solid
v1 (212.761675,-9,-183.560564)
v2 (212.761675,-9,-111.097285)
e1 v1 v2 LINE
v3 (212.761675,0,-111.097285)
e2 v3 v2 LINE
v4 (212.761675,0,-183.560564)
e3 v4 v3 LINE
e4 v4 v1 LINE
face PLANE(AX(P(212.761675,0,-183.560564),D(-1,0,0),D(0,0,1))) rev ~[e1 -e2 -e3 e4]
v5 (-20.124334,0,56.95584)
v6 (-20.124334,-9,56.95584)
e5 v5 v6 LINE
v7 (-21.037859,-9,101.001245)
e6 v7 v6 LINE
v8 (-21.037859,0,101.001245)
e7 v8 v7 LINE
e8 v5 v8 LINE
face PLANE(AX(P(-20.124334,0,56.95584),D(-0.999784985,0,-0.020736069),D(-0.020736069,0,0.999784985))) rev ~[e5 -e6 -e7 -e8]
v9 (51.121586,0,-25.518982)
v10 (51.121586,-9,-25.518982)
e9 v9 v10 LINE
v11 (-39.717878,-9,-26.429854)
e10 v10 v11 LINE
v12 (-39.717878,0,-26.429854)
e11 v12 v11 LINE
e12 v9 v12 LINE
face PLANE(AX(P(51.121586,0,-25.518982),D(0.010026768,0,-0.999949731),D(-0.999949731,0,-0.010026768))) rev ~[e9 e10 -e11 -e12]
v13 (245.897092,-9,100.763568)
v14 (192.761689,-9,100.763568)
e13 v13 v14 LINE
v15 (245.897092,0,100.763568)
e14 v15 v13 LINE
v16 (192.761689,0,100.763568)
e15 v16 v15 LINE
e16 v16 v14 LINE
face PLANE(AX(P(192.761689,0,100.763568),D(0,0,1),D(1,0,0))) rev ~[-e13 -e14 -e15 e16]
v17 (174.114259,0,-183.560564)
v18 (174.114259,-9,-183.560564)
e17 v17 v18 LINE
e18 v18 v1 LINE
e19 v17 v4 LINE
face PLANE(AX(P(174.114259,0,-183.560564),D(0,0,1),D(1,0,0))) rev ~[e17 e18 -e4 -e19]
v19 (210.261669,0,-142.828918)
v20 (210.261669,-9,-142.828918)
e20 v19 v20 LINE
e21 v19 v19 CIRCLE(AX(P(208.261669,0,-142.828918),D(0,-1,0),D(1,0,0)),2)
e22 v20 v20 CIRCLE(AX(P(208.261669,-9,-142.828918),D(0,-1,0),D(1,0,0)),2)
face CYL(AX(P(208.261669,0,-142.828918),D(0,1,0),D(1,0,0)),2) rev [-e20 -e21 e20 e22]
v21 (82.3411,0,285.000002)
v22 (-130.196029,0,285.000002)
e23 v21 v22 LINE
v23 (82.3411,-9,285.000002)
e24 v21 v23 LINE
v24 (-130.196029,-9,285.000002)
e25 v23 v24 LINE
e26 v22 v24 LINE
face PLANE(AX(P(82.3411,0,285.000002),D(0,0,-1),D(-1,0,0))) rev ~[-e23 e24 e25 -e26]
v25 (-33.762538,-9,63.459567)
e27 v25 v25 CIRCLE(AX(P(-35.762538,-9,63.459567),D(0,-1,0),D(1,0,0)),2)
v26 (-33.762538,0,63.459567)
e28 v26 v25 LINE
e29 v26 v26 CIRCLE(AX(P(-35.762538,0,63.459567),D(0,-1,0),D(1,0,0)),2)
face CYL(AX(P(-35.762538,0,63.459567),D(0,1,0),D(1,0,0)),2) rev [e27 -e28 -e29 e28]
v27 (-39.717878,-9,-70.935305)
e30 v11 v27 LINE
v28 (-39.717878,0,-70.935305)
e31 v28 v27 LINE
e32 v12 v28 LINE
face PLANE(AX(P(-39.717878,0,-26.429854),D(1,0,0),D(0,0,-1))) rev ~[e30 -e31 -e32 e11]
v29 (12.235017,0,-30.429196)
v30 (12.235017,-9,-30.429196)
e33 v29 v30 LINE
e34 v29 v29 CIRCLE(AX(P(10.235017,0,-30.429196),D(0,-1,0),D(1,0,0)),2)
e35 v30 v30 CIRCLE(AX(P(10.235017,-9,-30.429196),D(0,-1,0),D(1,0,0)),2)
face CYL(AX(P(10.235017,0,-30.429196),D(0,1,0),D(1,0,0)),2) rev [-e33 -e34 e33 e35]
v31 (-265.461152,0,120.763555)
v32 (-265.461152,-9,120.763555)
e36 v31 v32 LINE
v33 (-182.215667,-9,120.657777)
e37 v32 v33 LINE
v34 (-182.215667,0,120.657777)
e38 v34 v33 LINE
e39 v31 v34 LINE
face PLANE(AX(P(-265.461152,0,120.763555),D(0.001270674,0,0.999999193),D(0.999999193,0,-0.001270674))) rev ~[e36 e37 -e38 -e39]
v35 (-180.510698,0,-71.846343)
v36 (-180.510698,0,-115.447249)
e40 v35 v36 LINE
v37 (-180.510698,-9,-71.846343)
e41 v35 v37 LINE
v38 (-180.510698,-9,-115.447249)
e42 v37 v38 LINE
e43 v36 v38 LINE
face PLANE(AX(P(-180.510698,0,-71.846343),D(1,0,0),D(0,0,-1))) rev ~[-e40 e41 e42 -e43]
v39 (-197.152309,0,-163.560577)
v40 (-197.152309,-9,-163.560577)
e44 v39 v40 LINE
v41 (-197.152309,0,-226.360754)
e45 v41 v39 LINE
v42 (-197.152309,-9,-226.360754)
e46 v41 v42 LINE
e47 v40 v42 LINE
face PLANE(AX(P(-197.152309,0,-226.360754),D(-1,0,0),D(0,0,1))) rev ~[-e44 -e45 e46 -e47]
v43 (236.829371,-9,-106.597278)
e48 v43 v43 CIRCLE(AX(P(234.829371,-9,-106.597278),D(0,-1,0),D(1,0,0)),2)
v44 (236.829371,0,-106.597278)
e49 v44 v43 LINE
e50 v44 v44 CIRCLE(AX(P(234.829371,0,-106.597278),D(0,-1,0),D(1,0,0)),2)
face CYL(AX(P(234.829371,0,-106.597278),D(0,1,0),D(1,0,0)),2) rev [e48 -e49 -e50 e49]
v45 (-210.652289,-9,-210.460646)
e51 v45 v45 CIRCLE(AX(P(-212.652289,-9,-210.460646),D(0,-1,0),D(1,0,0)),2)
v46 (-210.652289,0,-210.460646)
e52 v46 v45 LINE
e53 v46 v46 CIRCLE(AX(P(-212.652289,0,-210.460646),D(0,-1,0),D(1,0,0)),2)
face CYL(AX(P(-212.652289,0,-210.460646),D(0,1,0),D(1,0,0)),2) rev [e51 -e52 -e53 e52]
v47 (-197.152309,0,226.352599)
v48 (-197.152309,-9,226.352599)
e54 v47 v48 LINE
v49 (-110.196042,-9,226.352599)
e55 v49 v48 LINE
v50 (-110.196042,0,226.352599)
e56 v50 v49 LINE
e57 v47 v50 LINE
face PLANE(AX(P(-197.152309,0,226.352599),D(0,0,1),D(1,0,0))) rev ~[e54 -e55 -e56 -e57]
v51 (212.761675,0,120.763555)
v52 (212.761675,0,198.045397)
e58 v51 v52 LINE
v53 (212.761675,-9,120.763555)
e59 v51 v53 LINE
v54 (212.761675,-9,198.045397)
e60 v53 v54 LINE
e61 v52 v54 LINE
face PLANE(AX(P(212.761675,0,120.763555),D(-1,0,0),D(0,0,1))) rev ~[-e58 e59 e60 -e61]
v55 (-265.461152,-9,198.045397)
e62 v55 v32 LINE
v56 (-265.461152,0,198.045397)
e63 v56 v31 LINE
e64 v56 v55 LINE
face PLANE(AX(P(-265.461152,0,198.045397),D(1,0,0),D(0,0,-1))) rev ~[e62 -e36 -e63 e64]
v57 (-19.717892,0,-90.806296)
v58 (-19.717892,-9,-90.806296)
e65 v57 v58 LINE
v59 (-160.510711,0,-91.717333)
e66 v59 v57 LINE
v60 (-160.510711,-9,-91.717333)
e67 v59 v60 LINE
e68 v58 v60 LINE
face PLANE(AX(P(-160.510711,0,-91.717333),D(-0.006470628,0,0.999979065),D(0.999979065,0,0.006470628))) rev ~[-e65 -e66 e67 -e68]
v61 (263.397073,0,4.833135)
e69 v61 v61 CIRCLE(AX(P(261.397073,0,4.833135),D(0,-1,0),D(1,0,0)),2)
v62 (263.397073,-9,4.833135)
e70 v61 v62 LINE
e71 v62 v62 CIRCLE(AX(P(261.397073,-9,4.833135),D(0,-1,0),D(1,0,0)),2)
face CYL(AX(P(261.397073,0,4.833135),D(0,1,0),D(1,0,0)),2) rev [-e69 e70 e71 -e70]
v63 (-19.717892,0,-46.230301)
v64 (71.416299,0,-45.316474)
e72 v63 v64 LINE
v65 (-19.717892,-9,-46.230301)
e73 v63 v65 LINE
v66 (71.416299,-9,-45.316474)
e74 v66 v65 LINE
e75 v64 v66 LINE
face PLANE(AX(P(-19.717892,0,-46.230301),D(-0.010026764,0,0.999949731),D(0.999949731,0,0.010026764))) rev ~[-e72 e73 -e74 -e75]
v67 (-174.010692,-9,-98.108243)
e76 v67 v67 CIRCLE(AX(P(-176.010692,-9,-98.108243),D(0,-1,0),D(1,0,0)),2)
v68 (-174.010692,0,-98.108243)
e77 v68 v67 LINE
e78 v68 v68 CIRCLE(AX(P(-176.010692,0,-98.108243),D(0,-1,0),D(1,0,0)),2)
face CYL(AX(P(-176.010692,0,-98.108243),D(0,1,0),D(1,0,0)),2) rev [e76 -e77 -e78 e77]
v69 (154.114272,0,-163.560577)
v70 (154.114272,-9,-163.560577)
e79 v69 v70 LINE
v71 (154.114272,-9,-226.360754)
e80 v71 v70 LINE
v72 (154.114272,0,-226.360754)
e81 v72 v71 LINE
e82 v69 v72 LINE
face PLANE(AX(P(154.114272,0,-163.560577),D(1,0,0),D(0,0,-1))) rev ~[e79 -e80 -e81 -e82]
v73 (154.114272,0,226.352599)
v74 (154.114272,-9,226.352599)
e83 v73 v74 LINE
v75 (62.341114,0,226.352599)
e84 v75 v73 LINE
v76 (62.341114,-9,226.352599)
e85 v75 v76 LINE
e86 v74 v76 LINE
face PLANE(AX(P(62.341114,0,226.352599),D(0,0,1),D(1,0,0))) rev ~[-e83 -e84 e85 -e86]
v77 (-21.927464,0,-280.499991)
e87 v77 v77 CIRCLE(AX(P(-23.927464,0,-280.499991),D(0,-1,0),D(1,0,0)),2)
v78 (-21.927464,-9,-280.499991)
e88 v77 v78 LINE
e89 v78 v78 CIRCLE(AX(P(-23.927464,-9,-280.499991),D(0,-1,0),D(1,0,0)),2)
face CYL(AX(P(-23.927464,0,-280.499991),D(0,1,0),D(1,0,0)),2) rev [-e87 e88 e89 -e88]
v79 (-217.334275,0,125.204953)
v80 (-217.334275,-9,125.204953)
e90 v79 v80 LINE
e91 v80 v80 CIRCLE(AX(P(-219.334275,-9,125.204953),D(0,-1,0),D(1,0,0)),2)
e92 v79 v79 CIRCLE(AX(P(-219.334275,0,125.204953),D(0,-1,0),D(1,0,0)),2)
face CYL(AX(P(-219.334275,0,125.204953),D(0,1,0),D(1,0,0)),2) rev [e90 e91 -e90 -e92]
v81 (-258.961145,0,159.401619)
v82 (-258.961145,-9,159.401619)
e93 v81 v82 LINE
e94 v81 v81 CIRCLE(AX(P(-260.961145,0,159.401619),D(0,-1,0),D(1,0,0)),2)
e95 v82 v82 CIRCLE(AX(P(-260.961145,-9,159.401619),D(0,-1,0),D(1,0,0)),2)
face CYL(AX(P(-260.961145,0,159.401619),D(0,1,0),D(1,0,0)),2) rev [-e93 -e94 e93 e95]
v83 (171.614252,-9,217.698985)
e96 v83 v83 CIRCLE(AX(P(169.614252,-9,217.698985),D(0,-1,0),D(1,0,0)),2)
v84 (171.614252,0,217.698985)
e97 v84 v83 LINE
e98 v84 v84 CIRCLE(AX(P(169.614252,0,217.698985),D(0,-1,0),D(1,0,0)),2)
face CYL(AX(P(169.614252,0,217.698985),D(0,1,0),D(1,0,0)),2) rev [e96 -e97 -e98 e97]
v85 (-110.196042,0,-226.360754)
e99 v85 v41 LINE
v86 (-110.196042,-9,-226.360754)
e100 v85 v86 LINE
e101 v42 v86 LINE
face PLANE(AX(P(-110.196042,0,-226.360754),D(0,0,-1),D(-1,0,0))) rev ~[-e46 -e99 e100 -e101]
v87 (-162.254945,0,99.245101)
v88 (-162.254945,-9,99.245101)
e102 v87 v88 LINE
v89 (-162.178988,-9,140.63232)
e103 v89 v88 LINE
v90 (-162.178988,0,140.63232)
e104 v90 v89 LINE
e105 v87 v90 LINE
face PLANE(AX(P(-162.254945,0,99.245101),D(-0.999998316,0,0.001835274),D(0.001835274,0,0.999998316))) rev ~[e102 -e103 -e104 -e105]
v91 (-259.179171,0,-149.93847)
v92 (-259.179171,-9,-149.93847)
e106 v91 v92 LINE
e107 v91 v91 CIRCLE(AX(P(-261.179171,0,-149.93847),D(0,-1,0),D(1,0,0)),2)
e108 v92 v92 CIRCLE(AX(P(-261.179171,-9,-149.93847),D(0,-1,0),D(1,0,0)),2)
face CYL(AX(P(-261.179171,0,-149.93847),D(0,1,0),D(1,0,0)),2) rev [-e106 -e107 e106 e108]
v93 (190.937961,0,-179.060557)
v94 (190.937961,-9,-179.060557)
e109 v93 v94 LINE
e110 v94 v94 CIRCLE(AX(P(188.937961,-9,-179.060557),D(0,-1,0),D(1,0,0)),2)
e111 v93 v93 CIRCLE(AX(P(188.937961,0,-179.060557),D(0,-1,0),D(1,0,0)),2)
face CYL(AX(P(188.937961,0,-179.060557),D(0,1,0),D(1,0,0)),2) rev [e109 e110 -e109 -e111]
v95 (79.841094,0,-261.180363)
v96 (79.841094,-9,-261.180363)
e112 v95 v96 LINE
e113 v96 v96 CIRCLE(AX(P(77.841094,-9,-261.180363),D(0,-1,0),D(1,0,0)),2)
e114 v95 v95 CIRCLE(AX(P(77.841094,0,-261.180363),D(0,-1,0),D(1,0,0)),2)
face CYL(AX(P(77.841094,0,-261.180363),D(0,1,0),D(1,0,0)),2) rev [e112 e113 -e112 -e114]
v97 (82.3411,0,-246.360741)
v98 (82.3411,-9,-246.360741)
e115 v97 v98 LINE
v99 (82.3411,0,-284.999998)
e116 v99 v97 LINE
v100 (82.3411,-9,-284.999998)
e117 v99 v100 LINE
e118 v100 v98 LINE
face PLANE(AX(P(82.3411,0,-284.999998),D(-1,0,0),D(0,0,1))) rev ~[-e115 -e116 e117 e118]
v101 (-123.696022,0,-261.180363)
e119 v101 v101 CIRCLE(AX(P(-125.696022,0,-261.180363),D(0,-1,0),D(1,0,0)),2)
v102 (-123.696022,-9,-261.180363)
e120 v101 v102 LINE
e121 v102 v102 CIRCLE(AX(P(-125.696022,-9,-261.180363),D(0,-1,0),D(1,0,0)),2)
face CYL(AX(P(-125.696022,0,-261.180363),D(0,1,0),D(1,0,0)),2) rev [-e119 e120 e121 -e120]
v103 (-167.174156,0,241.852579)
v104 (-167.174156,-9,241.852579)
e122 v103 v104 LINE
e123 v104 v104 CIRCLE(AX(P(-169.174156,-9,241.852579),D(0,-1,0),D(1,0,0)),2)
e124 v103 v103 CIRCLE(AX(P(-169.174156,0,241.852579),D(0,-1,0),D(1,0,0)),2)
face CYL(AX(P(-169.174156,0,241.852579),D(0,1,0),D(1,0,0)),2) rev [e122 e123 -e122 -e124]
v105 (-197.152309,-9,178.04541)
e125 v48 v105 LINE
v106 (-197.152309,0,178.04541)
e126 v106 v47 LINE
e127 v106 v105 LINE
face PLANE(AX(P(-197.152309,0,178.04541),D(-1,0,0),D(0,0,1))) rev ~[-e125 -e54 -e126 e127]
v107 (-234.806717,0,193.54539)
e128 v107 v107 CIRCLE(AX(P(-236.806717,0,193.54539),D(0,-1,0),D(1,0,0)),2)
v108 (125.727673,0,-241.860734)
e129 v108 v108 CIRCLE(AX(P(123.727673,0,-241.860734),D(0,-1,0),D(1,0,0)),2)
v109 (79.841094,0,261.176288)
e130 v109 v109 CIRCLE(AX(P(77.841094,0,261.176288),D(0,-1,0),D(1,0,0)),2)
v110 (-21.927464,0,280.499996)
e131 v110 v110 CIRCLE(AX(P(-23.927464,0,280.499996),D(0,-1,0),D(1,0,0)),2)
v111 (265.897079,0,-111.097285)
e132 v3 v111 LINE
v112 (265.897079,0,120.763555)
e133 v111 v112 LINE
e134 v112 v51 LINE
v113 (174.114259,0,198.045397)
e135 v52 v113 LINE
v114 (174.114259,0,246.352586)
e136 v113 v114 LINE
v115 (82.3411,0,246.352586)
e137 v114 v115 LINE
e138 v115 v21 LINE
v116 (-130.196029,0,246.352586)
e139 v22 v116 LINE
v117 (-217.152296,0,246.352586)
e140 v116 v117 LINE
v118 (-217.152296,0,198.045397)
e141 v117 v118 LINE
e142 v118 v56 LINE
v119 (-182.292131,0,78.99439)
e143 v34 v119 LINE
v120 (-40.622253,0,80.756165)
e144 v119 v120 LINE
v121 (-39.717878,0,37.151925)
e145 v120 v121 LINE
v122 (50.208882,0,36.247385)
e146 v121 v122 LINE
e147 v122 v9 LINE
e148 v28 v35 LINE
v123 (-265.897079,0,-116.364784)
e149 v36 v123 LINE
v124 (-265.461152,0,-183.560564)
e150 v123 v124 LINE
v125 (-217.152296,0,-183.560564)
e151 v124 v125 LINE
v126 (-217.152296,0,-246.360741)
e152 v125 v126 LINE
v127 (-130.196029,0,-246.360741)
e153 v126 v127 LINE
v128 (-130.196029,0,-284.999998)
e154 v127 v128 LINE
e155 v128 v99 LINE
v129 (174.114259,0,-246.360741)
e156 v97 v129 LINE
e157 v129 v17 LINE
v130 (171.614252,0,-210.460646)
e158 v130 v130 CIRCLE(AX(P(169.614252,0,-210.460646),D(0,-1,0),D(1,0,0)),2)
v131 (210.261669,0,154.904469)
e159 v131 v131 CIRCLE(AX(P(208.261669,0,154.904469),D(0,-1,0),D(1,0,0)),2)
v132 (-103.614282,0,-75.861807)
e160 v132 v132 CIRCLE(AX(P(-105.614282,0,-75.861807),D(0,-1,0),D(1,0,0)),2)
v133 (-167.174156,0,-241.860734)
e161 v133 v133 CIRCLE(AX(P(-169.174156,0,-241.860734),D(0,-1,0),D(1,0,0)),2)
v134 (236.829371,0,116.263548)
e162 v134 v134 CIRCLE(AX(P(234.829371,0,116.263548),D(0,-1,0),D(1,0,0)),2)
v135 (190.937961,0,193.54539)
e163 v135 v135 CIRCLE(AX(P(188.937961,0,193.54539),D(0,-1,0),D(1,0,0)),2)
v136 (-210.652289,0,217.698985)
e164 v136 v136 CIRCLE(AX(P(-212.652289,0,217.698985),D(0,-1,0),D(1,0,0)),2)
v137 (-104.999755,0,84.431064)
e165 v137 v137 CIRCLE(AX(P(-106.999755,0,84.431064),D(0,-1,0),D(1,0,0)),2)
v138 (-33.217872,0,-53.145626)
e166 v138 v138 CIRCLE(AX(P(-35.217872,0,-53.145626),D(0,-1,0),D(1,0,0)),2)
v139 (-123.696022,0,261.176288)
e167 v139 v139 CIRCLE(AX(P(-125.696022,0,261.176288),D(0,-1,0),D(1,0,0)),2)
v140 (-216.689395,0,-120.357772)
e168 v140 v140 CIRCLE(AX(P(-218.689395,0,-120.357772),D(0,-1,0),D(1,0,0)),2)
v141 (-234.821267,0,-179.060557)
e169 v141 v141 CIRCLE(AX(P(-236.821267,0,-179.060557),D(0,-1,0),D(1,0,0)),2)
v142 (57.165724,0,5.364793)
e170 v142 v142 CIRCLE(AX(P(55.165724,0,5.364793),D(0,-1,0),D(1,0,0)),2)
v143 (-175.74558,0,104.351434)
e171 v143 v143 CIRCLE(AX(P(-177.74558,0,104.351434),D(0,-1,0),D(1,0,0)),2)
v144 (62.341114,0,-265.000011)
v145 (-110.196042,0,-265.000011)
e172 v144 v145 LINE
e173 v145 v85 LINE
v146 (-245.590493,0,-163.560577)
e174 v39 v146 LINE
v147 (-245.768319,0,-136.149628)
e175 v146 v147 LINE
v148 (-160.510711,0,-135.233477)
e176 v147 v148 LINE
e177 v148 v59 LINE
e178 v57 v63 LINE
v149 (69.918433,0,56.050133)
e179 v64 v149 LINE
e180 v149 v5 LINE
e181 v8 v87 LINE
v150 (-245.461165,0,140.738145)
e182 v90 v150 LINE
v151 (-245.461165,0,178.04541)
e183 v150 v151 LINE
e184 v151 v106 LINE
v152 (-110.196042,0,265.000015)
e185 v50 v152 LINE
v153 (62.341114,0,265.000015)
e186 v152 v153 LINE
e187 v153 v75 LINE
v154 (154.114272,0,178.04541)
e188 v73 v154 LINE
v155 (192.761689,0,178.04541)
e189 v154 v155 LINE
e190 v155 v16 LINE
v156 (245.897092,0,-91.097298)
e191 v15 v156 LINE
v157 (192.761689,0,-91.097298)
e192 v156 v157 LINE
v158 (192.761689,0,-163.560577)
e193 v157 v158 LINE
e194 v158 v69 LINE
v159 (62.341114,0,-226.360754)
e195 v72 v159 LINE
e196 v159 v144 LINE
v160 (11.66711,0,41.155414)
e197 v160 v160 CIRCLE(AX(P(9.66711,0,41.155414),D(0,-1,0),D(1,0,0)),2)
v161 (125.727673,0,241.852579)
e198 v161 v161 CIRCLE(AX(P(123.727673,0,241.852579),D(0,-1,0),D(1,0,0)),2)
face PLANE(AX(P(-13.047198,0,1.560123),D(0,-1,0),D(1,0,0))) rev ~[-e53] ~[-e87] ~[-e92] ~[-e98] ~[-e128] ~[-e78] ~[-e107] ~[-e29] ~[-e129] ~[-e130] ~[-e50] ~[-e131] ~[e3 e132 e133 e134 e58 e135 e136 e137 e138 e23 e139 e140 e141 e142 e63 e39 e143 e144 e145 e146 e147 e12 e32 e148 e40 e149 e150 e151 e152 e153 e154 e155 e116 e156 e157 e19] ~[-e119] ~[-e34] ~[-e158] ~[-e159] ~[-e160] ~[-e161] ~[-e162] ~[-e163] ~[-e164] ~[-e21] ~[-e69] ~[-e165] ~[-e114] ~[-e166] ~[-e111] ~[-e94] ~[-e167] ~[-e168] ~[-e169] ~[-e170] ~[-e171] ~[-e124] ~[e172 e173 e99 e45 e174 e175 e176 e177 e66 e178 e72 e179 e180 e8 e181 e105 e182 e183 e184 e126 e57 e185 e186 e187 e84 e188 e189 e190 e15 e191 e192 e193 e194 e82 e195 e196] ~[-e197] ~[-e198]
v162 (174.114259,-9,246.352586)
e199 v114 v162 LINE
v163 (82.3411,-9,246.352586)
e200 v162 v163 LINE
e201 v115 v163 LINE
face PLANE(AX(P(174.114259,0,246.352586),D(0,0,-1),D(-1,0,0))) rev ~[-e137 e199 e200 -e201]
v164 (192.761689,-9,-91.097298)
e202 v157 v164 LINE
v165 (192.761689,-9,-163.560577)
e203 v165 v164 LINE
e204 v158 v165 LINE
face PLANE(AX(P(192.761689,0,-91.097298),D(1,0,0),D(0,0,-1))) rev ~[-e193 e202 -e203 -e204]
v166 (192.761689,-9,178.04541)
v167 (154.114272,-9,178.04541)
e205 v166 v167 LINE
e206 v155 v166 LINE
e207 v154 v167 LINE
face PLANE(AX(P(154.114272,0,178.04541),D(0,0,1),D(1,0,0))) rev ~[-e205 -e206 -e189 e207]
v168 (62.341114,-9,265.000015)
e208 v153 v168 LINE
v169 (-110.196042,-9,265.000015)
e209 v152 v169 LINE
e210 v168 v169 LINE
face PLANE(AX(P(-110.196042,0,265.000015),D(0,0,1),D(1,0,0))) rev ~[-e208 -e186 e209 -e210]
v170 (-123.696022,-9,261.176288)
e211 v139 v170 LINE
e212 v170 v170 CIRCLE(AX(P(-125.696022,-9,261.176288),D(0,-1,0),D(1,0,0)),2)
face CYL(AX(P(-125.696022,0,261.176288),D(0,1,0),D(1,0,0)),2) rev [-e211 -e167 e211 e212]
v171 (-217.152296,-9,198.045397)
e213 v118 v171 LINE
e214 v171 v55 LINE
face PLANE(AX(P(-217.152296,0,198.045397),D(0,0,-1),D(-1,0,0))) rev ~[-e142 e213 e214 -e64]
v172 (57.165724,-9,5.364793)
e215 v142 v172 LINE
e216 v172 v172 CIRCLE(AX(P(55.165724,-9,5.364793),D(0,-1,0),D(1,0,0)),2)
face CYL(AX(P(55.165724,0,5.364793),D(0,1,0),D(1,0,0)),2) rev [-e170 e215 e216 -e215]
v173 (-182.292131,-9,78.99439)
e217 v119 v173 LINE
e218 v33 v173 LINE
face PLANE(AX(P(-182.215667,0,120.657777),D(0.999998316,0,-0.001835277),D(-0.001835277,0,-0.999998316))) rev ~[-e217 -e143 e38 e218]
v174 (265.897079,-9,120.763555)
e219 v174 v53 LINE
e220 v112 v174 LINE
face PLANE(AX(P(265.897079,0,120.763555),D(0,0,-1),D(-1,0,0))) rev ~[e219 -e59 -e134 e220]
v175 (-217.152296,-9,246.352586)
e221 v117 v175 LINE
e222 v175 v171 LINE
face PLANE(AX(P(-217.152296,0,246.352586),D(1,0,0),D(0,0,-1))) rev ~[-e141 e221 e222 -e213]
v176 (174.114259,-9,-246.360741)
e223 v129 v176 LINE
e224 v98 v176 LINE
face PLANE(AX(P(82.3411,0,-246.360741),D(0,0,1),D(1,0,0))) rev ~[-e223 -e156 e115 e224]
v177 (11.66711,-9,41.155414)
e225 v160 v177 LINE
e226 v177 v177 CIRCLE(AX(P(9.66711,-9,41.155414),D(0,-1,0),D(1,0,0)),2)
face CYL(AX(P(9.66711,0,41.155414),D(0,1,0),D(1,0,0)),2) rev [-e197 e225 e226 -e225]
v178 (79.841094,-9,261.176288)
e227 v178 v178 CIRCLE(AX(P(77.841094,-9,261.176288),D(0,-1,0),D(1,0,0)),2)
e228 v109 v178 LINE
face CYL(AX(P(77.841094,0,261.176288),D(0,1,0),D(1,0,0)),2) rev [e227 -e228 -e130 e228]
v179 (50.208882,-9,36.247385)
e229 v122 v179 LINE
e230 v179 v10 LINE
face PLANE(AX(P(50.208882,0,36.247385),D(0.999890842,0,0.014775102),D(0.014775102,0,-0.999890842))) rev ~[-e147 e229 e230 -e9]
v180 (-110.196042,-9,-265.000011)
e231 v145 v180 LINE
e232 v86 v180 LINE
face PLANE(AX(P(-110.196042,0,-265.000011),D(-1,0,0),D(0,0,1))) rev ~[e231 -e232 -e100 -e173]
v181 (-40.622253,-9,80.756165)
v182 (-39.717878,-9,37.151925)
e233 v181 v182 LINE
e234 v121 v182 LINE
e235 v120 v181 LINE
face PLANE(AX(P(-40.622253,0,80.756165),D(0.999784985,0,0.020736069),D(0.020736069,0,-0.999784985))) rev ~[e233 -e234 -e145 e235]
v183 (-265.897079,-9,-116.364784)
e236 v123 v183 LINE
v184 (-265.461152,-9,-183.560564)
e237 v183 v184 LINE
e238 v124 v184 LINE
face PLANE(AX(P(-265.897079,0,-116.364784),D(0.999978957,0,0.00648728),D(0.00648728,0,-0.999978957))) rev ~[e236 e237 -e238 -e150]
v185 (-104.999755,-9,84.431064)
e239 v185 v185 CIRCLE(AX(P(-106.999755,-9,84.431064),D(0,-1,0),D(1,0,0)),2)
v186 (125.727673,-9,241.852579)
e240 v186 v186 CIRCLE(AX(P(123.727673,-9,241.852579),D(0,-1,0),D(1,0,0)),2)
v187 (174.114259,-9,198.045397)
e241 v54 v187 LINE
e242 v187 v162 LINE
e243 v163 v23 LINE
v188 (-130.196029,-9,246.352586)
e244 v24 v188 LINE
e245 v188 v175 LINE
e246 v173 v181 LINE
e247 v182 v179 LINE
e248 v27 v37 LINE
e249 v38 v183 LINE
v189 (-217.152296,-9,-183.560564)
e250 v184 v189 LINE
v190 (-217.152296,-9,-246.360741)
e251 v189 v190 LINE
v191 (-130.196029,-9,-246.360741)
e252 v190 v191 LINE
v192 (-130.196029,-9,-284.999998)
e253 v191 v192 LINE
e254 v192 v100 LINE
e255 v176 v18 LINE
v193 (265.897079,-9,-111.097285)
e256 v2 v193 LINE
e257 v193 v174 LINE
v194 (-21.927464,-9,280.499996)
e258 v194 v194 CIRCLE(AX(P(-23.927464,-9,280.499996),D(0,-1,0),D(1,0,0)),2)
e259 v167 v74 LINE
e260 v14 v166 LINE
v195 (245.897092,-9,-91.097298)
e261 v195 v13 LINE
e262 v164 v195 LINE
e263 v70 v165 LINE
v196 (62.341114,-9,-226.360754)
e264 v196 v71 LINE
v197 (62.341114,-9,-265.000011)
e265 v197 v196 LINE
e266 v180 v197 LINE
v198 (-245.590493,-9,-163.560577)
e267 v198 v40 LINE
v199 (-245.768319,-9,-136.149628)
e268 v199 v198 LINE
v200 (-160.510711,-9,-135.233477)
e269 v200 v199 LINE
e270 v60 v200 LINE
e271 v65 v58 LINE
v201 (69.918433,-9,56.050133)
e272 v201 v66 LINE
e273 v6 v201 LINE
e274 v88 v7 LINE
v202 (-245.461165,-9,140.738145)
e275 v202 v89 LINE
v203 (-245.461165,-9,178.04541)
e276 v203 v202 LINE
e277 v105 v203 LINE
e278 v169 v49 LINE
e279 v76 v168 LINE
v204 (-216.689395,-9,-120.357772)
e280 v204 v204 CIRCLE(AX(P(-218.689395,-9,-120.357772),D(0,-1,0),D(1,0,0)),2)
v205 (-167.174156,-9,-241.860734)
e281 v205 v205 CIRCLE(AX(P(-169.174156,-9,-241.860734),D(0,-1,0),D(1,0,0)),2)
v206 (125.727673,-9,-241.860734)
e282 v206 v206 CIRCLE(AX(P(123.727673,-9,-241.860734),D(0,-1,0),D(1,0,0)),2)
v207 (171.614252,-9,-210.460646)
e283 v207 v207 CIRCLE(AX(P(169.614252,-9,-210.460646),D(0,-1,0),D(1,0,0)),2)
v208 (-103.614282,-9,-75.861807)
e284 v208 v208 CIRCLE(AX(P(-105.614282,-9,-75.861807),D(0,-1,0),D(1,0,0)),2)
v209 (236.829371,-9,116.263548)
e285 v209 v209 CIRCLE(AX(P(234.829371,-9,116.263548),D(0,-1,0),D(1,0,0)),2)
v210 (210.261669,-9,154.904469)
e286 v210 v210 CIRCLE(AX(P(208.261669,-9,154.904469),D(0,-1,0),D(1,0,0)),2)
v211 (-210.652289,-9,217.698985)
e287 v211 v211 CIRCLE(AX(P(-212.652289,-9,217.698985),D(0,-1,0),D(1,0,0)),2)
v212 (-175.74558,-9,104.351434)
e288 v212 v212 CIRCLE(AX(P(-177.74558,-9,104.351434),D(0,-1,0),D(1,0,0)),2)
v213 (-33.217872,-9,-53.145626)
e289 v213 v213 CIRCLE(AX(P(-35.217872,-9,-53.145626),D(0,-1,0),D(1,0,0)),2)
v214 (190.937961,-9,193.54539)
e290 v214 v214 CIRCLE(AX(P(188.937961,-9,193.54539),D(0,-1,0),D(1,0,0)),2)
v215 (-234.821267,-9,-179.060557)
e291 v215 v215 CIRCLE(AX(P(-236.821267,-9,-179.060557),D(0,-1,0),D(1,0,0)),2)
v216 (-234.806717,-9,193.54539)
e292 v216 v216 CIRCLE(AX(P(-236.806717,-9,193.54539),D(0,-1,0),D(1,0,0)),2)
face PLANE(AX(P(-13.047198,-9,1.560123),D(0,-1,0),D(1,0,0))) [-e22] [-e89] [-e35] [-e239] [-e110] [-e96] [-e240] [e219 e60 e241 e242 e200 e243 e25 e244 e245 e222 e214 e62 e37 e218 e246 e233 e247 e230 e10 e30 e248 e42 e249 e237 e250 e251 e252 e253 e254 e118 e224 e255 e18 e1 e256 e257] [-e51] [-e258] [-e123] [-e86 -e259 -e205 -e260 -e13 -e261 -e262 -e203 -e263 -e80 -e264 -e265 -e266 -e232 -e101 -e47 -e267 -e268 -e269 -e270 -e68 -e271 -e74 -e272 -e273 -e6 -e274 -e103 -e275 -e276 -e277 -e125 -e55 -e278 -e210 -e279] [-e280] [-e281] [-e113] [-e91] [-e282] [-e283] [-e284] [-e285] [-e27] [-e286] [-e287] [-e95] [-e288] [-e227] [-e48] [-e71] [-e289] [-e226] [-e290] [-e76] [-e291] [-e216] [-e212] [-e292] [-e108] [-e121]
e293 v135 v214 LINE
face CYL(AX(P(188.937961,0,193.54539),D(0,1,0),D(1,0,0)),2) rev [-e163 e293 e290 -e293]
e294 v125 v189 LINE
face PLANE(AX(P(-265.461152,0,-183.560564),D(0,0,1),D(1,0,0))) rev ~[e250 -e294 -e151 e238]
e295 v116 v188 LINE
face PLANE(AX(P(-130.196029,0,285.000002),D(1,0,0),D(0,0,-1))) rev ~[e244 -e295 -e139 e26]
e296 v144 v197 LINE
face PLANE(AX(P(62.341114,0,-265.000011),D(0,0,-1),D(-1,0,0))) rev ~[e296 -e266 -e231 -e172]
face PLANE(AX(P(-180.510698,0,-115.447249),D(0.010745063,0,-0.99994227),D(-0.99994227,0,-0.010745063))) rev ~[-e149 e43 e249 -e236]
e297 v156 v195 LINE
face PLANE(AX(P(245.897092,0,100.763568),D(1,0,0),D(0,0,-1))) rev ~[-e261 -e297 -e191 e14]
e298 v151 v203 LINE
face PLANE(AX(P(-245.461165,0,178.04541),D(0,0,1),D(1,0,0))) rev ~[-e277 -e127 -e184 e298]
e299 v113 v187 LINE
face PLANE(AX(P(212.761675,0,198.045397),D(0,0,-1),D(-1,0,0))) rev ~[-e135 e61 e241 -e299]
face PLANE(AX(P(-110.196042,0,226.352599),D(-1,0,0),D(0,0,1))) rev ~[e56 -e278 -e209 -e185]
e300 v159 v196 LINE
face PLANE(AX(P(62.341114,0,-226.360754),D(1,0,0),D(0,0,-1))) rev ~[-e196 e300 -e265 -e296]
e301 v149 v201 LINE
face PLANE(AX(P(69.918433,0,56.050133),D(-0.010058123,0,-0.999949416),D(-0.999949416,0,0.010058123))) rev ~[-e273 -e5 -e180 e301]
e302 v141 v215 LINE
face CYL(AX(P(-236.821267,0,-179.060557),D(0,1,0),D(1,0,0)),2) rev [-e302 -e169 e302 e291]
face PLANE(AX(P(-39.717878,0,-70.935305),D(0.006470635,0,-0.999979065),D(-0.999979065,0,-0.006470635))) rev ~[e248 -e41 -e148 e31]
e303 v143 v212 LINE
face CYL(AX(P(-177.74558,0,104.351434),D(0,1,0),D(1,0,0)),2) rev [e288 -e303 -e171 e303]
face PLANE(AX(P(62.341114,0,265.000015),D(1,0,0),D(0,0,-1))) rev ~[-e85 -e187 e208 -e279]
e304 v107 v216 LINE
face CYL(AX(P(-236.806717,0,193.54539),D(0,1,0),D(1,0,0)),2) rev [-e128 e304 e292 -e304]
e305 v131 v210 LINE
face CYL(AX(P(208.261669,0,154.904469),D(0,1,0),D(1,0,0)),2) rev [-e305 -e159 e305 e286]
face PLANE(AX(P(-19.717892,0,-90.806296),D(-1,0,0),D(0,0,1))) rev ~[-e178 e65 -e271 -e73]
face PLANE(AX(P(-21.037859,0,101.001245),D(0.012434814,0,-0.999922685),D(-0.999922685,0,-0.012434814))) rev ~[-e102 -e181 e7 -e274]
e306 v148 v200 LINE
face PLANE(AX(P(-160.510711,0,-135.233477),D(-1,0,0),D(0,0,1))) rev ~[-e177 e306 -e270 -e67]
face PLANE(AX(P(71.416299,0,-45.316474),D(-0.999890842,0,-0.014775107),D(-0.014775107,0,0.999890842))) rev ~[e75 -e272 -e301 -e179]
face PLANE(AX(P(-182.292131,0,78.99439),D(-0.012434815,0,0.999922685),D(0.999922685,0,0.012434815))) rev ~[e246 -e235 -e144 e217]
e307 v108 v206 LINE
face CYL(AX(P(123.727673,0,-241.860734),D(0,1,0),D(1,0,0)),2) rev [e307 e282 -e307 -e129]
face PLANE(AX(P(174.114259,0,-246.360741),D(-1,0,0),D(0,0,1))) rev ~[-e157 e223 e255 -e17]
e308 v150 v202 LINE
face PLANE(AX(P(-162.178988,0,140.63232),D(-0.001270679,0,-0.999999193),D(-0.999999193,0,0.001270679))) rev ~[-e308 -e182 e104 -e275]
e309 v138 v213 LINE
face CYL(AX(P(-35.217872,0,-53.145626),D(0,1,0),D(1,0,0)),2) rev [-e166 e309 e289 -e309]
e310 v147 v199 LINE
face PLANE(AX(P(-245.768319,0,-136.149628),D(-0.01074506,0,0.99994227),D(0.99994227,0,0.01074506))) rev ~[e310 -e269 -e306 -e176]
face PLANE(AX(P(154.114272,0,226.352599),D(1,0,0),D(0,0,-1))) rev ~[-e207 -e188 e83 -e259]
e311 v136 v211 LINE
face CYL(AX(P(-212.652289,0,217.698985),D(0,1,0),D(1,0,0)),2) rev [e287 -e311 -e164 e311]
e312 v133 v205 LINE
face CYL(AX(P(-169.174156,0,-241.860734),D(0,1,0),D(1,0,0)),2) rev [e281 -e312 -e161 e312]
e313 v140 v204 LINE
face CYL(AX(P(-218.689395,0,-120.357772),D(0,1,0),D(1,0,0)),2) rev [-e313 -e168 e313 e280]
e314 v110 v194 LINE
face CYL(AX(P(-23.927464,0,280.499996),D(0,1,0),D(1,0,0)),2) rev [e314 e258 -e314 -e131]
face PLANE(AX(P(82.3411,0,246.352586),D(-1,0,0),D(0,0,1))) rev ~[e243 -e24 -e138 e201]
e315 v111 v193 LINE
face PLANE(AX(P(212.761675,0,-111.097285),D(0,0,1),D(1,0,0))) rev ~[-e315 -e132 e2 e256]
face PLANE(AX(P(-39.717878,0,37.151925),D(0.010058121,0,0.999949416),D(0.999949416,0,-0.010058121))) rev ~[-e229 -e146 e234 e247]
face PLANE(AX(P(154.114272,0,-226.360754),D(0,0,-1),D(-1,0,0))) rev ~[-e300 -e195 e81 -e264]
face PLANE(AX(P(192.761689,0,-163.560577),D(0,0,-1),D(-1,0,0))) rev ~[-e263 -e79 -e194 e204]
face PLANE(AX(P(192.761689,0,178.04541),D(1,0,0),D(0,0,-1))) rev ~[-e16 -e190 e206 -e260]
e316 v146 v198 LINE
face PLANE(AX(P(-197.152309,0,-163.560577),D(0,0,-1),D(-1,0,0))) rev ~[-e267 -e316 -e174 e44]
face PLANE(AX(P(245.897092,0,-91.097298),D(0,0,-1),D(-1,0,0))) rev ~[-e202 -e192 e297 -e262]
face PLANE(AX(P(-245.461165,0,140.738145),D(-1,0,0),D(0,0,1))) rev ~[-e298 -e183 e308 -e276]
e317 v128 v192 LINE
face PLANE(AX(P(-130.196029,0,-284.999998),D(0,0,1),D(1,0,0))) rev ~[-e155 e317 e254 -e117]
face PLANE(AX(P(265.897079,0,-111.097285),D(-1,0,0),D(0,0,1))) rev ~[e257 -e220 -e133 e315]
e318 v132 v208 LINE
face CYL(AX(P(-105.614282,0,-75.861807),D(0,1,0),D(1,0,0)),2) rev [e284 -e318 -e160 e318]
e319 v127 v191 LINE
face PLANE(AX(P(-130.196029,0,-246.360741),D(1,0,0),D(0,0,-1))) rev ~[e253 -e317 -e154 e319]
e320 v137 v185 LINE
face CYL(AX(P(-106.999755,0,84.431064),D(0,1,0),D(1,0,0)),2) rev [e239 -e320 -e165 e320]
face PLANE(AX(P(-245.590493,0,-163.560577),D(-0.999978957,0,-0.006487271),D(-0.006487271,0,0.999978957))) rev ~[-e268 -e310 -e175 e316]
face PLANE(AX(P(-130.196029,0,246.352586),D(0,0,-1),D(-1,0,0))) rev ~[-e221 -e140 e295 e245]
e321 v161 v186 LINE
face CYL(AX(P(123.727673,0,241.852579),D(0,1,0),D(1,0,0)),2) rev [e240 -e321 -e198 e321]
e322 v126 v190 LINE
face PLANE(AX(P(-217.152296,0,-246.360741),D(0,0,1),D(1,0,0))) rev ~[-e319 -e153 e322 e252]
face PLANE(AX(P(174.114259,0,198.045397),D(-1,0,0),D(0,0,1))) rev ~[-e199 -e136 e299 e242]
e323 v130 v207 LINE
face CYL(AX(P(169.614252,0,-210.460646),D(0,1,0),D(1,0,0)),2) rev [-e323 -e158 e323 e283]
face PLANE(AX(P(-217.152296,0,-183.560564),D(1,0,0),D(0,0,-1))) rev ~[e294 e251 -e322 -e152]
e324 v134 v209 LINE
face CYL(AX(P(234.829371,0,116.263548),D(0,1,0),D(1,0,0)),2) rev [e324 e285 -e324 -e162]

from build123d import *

# Parameters (mm, degrees)
F0_R     = 2
F1_DEPTH = 9
F3_DEPTH = 9.001


with BuildPart() as f1:
    # F0 (on Front) → F1 (new body)
    with BuildSketch(Plane.XZ):
        Polygon((265.897079, -111.097285), (265.897079, 120.763555), (212.761675, 120.763555), (212.761675, 198.045397), (174.114259, 198.045397), (174.114259, 246.352586), (82.3411, 246.352586), (82.3411, 285.000002), (-130.196029, 285.000002), (-130.196029, 246.352586), (-217.152296, 246.352586), (-217.152296, 198.045397), (-265.461152, 198.045397), (-265.461152, 120.763555), (-182.215667, 120.657777), (-182.292131, 78.99439), (-40.622253, 80.756165), (-39.717878, 37.151925), (50.208882, 36.247385), (51.121586, -25.518982), (-39.717878, -26.429854), (-39.717878, -70.935305), (-180.510698, -71.846343), (-180.510698, -115.447249), (-265.897079, -116.364784), (-265.461152, -183.560564), (-217.152296, -183.560564), (-217.152296, -246.360741), (-130.196029, -246.360741), (-130.196029, -284.999998), (82.3411, -284.999998), (82.3411, -246.360741), (174.114259, -246.360741), (174.114259, -183.560564), (212.761675, -183.560564), (212.761675, -111.097285), align=None)
        with Locations((-169.174156, -241.860734)):
            Circle(F0_R, mode=Mode.SUBTRACT)
        with Locations((-236.821267, -179.060557)):
            Circle(F0_R, mode=Mode.SUBTRACT)
        with Locations((-212.652289, -210.460646)):
            Circle(F0_R, mode=Mode.SUBTRACT)
        with Locations((-261.179171, -149.93847)):
            Circle(F0_R, mode=Mode.SUBTRACT)
        with Locations((-125.696022, -261.180363)):
            Circle(F0_R, mode=Mode.SUBTRACT)
        with Locations((-23.927464, -280.499991)):
            Circle(F0_R, mode=Mode.SUBTRACT)
        with Locations((-218.689395, -120.357772)):
            Circle(F0_R, mode=Mode.SUBTRACT)
        with Locations((-176.010692, -98.108243)):
            Circle(F0_R, mode=Mode.SUBTRACT)
        with Locations((-105.614282, -75.861807)):
            Circle(F0_R, mode=Mode.SUBTRACT)
        with Locations((-35.217872, -53.145626)):
            Circle(F0_R, mode=Mode.SUBTRACT)
        with Locations((77.841094, -261.180363)):
            Circle(F0_R, mode=Mode.SUBTRACT)
        with Locations((123.727673, -241.860734)):
            Circle(F0_R, mode=Mode.SUBTRACT)
        with Locations((169.614252, -210.460646)):
            Circle(F0_R, mode=Mode.SUBTRACT)
        with Locations((188.937961, -179.060557)):
            Circle(F0_R, mode=Mode.SUBTRACT)
        with Locations((208.261669, -142.828918)):
            Circle(F0_R, mode=Mode.SUBTRACT)
        with Locations((10.235017, -30.429196)):
            Circle(F0_R, mode=Mode.SUBTRACT)
        with Locations((234.829371, -106.597278)):
            Circle(F0_R, mode=Mode.SUBTRACT)
        with Locations((-219.334275, 125.204953)):
            Circle(F0_R, mode=Mode.SUBTRACT)
        with Locations((-177.74558, 104.351434)):
            Circle(F0_R, mode=Mode.SUBTRACT)
        with Locations((-35.762538, 63.459567)):
            Circle(F0_R, mode=Mode.SUBTRACT)
        with Locations((-106.999755, 84.431064)):
            Circle(F0_R, mode=Mode.SUBTRACT)
        with Locations((-260.961145, 159.401619)):
            Circle(F0_R, mode=Mode.SUBTRACT)
        with Locations((-236.806717, 193.54539)):
            Circle(F0_R, mode=Mode.SUBTRACT)
        with Locations((-212.652289, 217.698985)):
            Circle(F0_R, mode=Mode.SUBTRACT)
        with Locations((-169.174156, 241.852579)):
            Circle(F0_R, mode=Mode.SUBTRACT)
        with Locations((-125.696022, 261.176288)):
            Circle(F0_R, mode=Mode.SUBTRACT)
        with Locations((-23.927464, 280.499996)):
            Circle(F0_R, mode=Mode.SUBTRACT)
        with Locations((55.165724, 5.364793)):
            Circle(F0_R, mode=Mode.SUBTRACT)
        with Locations((9.66711, 41.155414)):
            Circle(F0_R, mode=Mode.SUBTRACT)
        with Locations((261.397073, 4.833135)):
            Circle(F0_R, mode=Mode.SUBTRACT)
        with Locations((234.829371, 116.263548)):
            Circle(F0_R, mode=Mode.SUBTRACT)
        with Locations((123.727673, 241.852579)):
            Circle(F0_R, mode=Mode.SUBTRACT)
        with Locations((77.841094, 261.176288)):
            Circle(F0_R, mode=Mode.SUBTRACT)
        with Locations((188.937961, 193.54539)):
            Circle(F0_R, mode=Mode.SUBTRACT)
        with Locations((208.261669, 154.904469)):
            Circle(F0_R, mode=Mode.SUBTRACT)
        with Locations((169.614252, 217.698985)):
            Circle(F0_R, mode=Mode.SUBTRACT)
    extrude(amount=F1_DEPTH)

    # F2 (on face) → F3 (cut, through all)
    with BuildSketch(Plane(origin=(0, 0, 0), x_dir=(-1, 0, 0), z_dir=(0, 1, 0))):
        Polygon((-62.341114, 265.000015), (-62.341114, 226.352599), (-154.114272, 226.352599), (-154.114272, 178.04541), (-192.761689, 178.04541), (-192.761689, 100.763568), (-245.897092, 100.763568), (-245.897092, -91.097298), (-192.761689, -91.097298), (-192.761689, -163.560577), (-154.114272, -163.560577), (-154.114272, -226.360754), (-62.341114, -226.360754), (-62.341114, -265.000011), (110.196042, -265.000011), (110.196042, -226.360754), (197.152309, -226.360754), (197.152309, -163.560577), (245.590493, -163.560577), (245.768319, -136.149628), (160.510711, -135.233477), (160.510711, -91.717333), (19.717892, -90.806296), (19.717892, -46.230301), (-71.416299, -45.316474), (-69.918433, 56.050133), (20.124334, 56.95584), (21.037859, 101.001245), (162.254945, 99.245101), (162.178988, 140.63232), (245.461165, 140.738145), (245.461165, 178.04541), (197.152309, 178.04541), (197.152309, 226.352599), (110.196042, 226.352599), (110.196042, 265.000015), align=None)
    extrude(amount=-F3_DEPTH, mode=Mode.SUBTRACT)


solid = f1.part
